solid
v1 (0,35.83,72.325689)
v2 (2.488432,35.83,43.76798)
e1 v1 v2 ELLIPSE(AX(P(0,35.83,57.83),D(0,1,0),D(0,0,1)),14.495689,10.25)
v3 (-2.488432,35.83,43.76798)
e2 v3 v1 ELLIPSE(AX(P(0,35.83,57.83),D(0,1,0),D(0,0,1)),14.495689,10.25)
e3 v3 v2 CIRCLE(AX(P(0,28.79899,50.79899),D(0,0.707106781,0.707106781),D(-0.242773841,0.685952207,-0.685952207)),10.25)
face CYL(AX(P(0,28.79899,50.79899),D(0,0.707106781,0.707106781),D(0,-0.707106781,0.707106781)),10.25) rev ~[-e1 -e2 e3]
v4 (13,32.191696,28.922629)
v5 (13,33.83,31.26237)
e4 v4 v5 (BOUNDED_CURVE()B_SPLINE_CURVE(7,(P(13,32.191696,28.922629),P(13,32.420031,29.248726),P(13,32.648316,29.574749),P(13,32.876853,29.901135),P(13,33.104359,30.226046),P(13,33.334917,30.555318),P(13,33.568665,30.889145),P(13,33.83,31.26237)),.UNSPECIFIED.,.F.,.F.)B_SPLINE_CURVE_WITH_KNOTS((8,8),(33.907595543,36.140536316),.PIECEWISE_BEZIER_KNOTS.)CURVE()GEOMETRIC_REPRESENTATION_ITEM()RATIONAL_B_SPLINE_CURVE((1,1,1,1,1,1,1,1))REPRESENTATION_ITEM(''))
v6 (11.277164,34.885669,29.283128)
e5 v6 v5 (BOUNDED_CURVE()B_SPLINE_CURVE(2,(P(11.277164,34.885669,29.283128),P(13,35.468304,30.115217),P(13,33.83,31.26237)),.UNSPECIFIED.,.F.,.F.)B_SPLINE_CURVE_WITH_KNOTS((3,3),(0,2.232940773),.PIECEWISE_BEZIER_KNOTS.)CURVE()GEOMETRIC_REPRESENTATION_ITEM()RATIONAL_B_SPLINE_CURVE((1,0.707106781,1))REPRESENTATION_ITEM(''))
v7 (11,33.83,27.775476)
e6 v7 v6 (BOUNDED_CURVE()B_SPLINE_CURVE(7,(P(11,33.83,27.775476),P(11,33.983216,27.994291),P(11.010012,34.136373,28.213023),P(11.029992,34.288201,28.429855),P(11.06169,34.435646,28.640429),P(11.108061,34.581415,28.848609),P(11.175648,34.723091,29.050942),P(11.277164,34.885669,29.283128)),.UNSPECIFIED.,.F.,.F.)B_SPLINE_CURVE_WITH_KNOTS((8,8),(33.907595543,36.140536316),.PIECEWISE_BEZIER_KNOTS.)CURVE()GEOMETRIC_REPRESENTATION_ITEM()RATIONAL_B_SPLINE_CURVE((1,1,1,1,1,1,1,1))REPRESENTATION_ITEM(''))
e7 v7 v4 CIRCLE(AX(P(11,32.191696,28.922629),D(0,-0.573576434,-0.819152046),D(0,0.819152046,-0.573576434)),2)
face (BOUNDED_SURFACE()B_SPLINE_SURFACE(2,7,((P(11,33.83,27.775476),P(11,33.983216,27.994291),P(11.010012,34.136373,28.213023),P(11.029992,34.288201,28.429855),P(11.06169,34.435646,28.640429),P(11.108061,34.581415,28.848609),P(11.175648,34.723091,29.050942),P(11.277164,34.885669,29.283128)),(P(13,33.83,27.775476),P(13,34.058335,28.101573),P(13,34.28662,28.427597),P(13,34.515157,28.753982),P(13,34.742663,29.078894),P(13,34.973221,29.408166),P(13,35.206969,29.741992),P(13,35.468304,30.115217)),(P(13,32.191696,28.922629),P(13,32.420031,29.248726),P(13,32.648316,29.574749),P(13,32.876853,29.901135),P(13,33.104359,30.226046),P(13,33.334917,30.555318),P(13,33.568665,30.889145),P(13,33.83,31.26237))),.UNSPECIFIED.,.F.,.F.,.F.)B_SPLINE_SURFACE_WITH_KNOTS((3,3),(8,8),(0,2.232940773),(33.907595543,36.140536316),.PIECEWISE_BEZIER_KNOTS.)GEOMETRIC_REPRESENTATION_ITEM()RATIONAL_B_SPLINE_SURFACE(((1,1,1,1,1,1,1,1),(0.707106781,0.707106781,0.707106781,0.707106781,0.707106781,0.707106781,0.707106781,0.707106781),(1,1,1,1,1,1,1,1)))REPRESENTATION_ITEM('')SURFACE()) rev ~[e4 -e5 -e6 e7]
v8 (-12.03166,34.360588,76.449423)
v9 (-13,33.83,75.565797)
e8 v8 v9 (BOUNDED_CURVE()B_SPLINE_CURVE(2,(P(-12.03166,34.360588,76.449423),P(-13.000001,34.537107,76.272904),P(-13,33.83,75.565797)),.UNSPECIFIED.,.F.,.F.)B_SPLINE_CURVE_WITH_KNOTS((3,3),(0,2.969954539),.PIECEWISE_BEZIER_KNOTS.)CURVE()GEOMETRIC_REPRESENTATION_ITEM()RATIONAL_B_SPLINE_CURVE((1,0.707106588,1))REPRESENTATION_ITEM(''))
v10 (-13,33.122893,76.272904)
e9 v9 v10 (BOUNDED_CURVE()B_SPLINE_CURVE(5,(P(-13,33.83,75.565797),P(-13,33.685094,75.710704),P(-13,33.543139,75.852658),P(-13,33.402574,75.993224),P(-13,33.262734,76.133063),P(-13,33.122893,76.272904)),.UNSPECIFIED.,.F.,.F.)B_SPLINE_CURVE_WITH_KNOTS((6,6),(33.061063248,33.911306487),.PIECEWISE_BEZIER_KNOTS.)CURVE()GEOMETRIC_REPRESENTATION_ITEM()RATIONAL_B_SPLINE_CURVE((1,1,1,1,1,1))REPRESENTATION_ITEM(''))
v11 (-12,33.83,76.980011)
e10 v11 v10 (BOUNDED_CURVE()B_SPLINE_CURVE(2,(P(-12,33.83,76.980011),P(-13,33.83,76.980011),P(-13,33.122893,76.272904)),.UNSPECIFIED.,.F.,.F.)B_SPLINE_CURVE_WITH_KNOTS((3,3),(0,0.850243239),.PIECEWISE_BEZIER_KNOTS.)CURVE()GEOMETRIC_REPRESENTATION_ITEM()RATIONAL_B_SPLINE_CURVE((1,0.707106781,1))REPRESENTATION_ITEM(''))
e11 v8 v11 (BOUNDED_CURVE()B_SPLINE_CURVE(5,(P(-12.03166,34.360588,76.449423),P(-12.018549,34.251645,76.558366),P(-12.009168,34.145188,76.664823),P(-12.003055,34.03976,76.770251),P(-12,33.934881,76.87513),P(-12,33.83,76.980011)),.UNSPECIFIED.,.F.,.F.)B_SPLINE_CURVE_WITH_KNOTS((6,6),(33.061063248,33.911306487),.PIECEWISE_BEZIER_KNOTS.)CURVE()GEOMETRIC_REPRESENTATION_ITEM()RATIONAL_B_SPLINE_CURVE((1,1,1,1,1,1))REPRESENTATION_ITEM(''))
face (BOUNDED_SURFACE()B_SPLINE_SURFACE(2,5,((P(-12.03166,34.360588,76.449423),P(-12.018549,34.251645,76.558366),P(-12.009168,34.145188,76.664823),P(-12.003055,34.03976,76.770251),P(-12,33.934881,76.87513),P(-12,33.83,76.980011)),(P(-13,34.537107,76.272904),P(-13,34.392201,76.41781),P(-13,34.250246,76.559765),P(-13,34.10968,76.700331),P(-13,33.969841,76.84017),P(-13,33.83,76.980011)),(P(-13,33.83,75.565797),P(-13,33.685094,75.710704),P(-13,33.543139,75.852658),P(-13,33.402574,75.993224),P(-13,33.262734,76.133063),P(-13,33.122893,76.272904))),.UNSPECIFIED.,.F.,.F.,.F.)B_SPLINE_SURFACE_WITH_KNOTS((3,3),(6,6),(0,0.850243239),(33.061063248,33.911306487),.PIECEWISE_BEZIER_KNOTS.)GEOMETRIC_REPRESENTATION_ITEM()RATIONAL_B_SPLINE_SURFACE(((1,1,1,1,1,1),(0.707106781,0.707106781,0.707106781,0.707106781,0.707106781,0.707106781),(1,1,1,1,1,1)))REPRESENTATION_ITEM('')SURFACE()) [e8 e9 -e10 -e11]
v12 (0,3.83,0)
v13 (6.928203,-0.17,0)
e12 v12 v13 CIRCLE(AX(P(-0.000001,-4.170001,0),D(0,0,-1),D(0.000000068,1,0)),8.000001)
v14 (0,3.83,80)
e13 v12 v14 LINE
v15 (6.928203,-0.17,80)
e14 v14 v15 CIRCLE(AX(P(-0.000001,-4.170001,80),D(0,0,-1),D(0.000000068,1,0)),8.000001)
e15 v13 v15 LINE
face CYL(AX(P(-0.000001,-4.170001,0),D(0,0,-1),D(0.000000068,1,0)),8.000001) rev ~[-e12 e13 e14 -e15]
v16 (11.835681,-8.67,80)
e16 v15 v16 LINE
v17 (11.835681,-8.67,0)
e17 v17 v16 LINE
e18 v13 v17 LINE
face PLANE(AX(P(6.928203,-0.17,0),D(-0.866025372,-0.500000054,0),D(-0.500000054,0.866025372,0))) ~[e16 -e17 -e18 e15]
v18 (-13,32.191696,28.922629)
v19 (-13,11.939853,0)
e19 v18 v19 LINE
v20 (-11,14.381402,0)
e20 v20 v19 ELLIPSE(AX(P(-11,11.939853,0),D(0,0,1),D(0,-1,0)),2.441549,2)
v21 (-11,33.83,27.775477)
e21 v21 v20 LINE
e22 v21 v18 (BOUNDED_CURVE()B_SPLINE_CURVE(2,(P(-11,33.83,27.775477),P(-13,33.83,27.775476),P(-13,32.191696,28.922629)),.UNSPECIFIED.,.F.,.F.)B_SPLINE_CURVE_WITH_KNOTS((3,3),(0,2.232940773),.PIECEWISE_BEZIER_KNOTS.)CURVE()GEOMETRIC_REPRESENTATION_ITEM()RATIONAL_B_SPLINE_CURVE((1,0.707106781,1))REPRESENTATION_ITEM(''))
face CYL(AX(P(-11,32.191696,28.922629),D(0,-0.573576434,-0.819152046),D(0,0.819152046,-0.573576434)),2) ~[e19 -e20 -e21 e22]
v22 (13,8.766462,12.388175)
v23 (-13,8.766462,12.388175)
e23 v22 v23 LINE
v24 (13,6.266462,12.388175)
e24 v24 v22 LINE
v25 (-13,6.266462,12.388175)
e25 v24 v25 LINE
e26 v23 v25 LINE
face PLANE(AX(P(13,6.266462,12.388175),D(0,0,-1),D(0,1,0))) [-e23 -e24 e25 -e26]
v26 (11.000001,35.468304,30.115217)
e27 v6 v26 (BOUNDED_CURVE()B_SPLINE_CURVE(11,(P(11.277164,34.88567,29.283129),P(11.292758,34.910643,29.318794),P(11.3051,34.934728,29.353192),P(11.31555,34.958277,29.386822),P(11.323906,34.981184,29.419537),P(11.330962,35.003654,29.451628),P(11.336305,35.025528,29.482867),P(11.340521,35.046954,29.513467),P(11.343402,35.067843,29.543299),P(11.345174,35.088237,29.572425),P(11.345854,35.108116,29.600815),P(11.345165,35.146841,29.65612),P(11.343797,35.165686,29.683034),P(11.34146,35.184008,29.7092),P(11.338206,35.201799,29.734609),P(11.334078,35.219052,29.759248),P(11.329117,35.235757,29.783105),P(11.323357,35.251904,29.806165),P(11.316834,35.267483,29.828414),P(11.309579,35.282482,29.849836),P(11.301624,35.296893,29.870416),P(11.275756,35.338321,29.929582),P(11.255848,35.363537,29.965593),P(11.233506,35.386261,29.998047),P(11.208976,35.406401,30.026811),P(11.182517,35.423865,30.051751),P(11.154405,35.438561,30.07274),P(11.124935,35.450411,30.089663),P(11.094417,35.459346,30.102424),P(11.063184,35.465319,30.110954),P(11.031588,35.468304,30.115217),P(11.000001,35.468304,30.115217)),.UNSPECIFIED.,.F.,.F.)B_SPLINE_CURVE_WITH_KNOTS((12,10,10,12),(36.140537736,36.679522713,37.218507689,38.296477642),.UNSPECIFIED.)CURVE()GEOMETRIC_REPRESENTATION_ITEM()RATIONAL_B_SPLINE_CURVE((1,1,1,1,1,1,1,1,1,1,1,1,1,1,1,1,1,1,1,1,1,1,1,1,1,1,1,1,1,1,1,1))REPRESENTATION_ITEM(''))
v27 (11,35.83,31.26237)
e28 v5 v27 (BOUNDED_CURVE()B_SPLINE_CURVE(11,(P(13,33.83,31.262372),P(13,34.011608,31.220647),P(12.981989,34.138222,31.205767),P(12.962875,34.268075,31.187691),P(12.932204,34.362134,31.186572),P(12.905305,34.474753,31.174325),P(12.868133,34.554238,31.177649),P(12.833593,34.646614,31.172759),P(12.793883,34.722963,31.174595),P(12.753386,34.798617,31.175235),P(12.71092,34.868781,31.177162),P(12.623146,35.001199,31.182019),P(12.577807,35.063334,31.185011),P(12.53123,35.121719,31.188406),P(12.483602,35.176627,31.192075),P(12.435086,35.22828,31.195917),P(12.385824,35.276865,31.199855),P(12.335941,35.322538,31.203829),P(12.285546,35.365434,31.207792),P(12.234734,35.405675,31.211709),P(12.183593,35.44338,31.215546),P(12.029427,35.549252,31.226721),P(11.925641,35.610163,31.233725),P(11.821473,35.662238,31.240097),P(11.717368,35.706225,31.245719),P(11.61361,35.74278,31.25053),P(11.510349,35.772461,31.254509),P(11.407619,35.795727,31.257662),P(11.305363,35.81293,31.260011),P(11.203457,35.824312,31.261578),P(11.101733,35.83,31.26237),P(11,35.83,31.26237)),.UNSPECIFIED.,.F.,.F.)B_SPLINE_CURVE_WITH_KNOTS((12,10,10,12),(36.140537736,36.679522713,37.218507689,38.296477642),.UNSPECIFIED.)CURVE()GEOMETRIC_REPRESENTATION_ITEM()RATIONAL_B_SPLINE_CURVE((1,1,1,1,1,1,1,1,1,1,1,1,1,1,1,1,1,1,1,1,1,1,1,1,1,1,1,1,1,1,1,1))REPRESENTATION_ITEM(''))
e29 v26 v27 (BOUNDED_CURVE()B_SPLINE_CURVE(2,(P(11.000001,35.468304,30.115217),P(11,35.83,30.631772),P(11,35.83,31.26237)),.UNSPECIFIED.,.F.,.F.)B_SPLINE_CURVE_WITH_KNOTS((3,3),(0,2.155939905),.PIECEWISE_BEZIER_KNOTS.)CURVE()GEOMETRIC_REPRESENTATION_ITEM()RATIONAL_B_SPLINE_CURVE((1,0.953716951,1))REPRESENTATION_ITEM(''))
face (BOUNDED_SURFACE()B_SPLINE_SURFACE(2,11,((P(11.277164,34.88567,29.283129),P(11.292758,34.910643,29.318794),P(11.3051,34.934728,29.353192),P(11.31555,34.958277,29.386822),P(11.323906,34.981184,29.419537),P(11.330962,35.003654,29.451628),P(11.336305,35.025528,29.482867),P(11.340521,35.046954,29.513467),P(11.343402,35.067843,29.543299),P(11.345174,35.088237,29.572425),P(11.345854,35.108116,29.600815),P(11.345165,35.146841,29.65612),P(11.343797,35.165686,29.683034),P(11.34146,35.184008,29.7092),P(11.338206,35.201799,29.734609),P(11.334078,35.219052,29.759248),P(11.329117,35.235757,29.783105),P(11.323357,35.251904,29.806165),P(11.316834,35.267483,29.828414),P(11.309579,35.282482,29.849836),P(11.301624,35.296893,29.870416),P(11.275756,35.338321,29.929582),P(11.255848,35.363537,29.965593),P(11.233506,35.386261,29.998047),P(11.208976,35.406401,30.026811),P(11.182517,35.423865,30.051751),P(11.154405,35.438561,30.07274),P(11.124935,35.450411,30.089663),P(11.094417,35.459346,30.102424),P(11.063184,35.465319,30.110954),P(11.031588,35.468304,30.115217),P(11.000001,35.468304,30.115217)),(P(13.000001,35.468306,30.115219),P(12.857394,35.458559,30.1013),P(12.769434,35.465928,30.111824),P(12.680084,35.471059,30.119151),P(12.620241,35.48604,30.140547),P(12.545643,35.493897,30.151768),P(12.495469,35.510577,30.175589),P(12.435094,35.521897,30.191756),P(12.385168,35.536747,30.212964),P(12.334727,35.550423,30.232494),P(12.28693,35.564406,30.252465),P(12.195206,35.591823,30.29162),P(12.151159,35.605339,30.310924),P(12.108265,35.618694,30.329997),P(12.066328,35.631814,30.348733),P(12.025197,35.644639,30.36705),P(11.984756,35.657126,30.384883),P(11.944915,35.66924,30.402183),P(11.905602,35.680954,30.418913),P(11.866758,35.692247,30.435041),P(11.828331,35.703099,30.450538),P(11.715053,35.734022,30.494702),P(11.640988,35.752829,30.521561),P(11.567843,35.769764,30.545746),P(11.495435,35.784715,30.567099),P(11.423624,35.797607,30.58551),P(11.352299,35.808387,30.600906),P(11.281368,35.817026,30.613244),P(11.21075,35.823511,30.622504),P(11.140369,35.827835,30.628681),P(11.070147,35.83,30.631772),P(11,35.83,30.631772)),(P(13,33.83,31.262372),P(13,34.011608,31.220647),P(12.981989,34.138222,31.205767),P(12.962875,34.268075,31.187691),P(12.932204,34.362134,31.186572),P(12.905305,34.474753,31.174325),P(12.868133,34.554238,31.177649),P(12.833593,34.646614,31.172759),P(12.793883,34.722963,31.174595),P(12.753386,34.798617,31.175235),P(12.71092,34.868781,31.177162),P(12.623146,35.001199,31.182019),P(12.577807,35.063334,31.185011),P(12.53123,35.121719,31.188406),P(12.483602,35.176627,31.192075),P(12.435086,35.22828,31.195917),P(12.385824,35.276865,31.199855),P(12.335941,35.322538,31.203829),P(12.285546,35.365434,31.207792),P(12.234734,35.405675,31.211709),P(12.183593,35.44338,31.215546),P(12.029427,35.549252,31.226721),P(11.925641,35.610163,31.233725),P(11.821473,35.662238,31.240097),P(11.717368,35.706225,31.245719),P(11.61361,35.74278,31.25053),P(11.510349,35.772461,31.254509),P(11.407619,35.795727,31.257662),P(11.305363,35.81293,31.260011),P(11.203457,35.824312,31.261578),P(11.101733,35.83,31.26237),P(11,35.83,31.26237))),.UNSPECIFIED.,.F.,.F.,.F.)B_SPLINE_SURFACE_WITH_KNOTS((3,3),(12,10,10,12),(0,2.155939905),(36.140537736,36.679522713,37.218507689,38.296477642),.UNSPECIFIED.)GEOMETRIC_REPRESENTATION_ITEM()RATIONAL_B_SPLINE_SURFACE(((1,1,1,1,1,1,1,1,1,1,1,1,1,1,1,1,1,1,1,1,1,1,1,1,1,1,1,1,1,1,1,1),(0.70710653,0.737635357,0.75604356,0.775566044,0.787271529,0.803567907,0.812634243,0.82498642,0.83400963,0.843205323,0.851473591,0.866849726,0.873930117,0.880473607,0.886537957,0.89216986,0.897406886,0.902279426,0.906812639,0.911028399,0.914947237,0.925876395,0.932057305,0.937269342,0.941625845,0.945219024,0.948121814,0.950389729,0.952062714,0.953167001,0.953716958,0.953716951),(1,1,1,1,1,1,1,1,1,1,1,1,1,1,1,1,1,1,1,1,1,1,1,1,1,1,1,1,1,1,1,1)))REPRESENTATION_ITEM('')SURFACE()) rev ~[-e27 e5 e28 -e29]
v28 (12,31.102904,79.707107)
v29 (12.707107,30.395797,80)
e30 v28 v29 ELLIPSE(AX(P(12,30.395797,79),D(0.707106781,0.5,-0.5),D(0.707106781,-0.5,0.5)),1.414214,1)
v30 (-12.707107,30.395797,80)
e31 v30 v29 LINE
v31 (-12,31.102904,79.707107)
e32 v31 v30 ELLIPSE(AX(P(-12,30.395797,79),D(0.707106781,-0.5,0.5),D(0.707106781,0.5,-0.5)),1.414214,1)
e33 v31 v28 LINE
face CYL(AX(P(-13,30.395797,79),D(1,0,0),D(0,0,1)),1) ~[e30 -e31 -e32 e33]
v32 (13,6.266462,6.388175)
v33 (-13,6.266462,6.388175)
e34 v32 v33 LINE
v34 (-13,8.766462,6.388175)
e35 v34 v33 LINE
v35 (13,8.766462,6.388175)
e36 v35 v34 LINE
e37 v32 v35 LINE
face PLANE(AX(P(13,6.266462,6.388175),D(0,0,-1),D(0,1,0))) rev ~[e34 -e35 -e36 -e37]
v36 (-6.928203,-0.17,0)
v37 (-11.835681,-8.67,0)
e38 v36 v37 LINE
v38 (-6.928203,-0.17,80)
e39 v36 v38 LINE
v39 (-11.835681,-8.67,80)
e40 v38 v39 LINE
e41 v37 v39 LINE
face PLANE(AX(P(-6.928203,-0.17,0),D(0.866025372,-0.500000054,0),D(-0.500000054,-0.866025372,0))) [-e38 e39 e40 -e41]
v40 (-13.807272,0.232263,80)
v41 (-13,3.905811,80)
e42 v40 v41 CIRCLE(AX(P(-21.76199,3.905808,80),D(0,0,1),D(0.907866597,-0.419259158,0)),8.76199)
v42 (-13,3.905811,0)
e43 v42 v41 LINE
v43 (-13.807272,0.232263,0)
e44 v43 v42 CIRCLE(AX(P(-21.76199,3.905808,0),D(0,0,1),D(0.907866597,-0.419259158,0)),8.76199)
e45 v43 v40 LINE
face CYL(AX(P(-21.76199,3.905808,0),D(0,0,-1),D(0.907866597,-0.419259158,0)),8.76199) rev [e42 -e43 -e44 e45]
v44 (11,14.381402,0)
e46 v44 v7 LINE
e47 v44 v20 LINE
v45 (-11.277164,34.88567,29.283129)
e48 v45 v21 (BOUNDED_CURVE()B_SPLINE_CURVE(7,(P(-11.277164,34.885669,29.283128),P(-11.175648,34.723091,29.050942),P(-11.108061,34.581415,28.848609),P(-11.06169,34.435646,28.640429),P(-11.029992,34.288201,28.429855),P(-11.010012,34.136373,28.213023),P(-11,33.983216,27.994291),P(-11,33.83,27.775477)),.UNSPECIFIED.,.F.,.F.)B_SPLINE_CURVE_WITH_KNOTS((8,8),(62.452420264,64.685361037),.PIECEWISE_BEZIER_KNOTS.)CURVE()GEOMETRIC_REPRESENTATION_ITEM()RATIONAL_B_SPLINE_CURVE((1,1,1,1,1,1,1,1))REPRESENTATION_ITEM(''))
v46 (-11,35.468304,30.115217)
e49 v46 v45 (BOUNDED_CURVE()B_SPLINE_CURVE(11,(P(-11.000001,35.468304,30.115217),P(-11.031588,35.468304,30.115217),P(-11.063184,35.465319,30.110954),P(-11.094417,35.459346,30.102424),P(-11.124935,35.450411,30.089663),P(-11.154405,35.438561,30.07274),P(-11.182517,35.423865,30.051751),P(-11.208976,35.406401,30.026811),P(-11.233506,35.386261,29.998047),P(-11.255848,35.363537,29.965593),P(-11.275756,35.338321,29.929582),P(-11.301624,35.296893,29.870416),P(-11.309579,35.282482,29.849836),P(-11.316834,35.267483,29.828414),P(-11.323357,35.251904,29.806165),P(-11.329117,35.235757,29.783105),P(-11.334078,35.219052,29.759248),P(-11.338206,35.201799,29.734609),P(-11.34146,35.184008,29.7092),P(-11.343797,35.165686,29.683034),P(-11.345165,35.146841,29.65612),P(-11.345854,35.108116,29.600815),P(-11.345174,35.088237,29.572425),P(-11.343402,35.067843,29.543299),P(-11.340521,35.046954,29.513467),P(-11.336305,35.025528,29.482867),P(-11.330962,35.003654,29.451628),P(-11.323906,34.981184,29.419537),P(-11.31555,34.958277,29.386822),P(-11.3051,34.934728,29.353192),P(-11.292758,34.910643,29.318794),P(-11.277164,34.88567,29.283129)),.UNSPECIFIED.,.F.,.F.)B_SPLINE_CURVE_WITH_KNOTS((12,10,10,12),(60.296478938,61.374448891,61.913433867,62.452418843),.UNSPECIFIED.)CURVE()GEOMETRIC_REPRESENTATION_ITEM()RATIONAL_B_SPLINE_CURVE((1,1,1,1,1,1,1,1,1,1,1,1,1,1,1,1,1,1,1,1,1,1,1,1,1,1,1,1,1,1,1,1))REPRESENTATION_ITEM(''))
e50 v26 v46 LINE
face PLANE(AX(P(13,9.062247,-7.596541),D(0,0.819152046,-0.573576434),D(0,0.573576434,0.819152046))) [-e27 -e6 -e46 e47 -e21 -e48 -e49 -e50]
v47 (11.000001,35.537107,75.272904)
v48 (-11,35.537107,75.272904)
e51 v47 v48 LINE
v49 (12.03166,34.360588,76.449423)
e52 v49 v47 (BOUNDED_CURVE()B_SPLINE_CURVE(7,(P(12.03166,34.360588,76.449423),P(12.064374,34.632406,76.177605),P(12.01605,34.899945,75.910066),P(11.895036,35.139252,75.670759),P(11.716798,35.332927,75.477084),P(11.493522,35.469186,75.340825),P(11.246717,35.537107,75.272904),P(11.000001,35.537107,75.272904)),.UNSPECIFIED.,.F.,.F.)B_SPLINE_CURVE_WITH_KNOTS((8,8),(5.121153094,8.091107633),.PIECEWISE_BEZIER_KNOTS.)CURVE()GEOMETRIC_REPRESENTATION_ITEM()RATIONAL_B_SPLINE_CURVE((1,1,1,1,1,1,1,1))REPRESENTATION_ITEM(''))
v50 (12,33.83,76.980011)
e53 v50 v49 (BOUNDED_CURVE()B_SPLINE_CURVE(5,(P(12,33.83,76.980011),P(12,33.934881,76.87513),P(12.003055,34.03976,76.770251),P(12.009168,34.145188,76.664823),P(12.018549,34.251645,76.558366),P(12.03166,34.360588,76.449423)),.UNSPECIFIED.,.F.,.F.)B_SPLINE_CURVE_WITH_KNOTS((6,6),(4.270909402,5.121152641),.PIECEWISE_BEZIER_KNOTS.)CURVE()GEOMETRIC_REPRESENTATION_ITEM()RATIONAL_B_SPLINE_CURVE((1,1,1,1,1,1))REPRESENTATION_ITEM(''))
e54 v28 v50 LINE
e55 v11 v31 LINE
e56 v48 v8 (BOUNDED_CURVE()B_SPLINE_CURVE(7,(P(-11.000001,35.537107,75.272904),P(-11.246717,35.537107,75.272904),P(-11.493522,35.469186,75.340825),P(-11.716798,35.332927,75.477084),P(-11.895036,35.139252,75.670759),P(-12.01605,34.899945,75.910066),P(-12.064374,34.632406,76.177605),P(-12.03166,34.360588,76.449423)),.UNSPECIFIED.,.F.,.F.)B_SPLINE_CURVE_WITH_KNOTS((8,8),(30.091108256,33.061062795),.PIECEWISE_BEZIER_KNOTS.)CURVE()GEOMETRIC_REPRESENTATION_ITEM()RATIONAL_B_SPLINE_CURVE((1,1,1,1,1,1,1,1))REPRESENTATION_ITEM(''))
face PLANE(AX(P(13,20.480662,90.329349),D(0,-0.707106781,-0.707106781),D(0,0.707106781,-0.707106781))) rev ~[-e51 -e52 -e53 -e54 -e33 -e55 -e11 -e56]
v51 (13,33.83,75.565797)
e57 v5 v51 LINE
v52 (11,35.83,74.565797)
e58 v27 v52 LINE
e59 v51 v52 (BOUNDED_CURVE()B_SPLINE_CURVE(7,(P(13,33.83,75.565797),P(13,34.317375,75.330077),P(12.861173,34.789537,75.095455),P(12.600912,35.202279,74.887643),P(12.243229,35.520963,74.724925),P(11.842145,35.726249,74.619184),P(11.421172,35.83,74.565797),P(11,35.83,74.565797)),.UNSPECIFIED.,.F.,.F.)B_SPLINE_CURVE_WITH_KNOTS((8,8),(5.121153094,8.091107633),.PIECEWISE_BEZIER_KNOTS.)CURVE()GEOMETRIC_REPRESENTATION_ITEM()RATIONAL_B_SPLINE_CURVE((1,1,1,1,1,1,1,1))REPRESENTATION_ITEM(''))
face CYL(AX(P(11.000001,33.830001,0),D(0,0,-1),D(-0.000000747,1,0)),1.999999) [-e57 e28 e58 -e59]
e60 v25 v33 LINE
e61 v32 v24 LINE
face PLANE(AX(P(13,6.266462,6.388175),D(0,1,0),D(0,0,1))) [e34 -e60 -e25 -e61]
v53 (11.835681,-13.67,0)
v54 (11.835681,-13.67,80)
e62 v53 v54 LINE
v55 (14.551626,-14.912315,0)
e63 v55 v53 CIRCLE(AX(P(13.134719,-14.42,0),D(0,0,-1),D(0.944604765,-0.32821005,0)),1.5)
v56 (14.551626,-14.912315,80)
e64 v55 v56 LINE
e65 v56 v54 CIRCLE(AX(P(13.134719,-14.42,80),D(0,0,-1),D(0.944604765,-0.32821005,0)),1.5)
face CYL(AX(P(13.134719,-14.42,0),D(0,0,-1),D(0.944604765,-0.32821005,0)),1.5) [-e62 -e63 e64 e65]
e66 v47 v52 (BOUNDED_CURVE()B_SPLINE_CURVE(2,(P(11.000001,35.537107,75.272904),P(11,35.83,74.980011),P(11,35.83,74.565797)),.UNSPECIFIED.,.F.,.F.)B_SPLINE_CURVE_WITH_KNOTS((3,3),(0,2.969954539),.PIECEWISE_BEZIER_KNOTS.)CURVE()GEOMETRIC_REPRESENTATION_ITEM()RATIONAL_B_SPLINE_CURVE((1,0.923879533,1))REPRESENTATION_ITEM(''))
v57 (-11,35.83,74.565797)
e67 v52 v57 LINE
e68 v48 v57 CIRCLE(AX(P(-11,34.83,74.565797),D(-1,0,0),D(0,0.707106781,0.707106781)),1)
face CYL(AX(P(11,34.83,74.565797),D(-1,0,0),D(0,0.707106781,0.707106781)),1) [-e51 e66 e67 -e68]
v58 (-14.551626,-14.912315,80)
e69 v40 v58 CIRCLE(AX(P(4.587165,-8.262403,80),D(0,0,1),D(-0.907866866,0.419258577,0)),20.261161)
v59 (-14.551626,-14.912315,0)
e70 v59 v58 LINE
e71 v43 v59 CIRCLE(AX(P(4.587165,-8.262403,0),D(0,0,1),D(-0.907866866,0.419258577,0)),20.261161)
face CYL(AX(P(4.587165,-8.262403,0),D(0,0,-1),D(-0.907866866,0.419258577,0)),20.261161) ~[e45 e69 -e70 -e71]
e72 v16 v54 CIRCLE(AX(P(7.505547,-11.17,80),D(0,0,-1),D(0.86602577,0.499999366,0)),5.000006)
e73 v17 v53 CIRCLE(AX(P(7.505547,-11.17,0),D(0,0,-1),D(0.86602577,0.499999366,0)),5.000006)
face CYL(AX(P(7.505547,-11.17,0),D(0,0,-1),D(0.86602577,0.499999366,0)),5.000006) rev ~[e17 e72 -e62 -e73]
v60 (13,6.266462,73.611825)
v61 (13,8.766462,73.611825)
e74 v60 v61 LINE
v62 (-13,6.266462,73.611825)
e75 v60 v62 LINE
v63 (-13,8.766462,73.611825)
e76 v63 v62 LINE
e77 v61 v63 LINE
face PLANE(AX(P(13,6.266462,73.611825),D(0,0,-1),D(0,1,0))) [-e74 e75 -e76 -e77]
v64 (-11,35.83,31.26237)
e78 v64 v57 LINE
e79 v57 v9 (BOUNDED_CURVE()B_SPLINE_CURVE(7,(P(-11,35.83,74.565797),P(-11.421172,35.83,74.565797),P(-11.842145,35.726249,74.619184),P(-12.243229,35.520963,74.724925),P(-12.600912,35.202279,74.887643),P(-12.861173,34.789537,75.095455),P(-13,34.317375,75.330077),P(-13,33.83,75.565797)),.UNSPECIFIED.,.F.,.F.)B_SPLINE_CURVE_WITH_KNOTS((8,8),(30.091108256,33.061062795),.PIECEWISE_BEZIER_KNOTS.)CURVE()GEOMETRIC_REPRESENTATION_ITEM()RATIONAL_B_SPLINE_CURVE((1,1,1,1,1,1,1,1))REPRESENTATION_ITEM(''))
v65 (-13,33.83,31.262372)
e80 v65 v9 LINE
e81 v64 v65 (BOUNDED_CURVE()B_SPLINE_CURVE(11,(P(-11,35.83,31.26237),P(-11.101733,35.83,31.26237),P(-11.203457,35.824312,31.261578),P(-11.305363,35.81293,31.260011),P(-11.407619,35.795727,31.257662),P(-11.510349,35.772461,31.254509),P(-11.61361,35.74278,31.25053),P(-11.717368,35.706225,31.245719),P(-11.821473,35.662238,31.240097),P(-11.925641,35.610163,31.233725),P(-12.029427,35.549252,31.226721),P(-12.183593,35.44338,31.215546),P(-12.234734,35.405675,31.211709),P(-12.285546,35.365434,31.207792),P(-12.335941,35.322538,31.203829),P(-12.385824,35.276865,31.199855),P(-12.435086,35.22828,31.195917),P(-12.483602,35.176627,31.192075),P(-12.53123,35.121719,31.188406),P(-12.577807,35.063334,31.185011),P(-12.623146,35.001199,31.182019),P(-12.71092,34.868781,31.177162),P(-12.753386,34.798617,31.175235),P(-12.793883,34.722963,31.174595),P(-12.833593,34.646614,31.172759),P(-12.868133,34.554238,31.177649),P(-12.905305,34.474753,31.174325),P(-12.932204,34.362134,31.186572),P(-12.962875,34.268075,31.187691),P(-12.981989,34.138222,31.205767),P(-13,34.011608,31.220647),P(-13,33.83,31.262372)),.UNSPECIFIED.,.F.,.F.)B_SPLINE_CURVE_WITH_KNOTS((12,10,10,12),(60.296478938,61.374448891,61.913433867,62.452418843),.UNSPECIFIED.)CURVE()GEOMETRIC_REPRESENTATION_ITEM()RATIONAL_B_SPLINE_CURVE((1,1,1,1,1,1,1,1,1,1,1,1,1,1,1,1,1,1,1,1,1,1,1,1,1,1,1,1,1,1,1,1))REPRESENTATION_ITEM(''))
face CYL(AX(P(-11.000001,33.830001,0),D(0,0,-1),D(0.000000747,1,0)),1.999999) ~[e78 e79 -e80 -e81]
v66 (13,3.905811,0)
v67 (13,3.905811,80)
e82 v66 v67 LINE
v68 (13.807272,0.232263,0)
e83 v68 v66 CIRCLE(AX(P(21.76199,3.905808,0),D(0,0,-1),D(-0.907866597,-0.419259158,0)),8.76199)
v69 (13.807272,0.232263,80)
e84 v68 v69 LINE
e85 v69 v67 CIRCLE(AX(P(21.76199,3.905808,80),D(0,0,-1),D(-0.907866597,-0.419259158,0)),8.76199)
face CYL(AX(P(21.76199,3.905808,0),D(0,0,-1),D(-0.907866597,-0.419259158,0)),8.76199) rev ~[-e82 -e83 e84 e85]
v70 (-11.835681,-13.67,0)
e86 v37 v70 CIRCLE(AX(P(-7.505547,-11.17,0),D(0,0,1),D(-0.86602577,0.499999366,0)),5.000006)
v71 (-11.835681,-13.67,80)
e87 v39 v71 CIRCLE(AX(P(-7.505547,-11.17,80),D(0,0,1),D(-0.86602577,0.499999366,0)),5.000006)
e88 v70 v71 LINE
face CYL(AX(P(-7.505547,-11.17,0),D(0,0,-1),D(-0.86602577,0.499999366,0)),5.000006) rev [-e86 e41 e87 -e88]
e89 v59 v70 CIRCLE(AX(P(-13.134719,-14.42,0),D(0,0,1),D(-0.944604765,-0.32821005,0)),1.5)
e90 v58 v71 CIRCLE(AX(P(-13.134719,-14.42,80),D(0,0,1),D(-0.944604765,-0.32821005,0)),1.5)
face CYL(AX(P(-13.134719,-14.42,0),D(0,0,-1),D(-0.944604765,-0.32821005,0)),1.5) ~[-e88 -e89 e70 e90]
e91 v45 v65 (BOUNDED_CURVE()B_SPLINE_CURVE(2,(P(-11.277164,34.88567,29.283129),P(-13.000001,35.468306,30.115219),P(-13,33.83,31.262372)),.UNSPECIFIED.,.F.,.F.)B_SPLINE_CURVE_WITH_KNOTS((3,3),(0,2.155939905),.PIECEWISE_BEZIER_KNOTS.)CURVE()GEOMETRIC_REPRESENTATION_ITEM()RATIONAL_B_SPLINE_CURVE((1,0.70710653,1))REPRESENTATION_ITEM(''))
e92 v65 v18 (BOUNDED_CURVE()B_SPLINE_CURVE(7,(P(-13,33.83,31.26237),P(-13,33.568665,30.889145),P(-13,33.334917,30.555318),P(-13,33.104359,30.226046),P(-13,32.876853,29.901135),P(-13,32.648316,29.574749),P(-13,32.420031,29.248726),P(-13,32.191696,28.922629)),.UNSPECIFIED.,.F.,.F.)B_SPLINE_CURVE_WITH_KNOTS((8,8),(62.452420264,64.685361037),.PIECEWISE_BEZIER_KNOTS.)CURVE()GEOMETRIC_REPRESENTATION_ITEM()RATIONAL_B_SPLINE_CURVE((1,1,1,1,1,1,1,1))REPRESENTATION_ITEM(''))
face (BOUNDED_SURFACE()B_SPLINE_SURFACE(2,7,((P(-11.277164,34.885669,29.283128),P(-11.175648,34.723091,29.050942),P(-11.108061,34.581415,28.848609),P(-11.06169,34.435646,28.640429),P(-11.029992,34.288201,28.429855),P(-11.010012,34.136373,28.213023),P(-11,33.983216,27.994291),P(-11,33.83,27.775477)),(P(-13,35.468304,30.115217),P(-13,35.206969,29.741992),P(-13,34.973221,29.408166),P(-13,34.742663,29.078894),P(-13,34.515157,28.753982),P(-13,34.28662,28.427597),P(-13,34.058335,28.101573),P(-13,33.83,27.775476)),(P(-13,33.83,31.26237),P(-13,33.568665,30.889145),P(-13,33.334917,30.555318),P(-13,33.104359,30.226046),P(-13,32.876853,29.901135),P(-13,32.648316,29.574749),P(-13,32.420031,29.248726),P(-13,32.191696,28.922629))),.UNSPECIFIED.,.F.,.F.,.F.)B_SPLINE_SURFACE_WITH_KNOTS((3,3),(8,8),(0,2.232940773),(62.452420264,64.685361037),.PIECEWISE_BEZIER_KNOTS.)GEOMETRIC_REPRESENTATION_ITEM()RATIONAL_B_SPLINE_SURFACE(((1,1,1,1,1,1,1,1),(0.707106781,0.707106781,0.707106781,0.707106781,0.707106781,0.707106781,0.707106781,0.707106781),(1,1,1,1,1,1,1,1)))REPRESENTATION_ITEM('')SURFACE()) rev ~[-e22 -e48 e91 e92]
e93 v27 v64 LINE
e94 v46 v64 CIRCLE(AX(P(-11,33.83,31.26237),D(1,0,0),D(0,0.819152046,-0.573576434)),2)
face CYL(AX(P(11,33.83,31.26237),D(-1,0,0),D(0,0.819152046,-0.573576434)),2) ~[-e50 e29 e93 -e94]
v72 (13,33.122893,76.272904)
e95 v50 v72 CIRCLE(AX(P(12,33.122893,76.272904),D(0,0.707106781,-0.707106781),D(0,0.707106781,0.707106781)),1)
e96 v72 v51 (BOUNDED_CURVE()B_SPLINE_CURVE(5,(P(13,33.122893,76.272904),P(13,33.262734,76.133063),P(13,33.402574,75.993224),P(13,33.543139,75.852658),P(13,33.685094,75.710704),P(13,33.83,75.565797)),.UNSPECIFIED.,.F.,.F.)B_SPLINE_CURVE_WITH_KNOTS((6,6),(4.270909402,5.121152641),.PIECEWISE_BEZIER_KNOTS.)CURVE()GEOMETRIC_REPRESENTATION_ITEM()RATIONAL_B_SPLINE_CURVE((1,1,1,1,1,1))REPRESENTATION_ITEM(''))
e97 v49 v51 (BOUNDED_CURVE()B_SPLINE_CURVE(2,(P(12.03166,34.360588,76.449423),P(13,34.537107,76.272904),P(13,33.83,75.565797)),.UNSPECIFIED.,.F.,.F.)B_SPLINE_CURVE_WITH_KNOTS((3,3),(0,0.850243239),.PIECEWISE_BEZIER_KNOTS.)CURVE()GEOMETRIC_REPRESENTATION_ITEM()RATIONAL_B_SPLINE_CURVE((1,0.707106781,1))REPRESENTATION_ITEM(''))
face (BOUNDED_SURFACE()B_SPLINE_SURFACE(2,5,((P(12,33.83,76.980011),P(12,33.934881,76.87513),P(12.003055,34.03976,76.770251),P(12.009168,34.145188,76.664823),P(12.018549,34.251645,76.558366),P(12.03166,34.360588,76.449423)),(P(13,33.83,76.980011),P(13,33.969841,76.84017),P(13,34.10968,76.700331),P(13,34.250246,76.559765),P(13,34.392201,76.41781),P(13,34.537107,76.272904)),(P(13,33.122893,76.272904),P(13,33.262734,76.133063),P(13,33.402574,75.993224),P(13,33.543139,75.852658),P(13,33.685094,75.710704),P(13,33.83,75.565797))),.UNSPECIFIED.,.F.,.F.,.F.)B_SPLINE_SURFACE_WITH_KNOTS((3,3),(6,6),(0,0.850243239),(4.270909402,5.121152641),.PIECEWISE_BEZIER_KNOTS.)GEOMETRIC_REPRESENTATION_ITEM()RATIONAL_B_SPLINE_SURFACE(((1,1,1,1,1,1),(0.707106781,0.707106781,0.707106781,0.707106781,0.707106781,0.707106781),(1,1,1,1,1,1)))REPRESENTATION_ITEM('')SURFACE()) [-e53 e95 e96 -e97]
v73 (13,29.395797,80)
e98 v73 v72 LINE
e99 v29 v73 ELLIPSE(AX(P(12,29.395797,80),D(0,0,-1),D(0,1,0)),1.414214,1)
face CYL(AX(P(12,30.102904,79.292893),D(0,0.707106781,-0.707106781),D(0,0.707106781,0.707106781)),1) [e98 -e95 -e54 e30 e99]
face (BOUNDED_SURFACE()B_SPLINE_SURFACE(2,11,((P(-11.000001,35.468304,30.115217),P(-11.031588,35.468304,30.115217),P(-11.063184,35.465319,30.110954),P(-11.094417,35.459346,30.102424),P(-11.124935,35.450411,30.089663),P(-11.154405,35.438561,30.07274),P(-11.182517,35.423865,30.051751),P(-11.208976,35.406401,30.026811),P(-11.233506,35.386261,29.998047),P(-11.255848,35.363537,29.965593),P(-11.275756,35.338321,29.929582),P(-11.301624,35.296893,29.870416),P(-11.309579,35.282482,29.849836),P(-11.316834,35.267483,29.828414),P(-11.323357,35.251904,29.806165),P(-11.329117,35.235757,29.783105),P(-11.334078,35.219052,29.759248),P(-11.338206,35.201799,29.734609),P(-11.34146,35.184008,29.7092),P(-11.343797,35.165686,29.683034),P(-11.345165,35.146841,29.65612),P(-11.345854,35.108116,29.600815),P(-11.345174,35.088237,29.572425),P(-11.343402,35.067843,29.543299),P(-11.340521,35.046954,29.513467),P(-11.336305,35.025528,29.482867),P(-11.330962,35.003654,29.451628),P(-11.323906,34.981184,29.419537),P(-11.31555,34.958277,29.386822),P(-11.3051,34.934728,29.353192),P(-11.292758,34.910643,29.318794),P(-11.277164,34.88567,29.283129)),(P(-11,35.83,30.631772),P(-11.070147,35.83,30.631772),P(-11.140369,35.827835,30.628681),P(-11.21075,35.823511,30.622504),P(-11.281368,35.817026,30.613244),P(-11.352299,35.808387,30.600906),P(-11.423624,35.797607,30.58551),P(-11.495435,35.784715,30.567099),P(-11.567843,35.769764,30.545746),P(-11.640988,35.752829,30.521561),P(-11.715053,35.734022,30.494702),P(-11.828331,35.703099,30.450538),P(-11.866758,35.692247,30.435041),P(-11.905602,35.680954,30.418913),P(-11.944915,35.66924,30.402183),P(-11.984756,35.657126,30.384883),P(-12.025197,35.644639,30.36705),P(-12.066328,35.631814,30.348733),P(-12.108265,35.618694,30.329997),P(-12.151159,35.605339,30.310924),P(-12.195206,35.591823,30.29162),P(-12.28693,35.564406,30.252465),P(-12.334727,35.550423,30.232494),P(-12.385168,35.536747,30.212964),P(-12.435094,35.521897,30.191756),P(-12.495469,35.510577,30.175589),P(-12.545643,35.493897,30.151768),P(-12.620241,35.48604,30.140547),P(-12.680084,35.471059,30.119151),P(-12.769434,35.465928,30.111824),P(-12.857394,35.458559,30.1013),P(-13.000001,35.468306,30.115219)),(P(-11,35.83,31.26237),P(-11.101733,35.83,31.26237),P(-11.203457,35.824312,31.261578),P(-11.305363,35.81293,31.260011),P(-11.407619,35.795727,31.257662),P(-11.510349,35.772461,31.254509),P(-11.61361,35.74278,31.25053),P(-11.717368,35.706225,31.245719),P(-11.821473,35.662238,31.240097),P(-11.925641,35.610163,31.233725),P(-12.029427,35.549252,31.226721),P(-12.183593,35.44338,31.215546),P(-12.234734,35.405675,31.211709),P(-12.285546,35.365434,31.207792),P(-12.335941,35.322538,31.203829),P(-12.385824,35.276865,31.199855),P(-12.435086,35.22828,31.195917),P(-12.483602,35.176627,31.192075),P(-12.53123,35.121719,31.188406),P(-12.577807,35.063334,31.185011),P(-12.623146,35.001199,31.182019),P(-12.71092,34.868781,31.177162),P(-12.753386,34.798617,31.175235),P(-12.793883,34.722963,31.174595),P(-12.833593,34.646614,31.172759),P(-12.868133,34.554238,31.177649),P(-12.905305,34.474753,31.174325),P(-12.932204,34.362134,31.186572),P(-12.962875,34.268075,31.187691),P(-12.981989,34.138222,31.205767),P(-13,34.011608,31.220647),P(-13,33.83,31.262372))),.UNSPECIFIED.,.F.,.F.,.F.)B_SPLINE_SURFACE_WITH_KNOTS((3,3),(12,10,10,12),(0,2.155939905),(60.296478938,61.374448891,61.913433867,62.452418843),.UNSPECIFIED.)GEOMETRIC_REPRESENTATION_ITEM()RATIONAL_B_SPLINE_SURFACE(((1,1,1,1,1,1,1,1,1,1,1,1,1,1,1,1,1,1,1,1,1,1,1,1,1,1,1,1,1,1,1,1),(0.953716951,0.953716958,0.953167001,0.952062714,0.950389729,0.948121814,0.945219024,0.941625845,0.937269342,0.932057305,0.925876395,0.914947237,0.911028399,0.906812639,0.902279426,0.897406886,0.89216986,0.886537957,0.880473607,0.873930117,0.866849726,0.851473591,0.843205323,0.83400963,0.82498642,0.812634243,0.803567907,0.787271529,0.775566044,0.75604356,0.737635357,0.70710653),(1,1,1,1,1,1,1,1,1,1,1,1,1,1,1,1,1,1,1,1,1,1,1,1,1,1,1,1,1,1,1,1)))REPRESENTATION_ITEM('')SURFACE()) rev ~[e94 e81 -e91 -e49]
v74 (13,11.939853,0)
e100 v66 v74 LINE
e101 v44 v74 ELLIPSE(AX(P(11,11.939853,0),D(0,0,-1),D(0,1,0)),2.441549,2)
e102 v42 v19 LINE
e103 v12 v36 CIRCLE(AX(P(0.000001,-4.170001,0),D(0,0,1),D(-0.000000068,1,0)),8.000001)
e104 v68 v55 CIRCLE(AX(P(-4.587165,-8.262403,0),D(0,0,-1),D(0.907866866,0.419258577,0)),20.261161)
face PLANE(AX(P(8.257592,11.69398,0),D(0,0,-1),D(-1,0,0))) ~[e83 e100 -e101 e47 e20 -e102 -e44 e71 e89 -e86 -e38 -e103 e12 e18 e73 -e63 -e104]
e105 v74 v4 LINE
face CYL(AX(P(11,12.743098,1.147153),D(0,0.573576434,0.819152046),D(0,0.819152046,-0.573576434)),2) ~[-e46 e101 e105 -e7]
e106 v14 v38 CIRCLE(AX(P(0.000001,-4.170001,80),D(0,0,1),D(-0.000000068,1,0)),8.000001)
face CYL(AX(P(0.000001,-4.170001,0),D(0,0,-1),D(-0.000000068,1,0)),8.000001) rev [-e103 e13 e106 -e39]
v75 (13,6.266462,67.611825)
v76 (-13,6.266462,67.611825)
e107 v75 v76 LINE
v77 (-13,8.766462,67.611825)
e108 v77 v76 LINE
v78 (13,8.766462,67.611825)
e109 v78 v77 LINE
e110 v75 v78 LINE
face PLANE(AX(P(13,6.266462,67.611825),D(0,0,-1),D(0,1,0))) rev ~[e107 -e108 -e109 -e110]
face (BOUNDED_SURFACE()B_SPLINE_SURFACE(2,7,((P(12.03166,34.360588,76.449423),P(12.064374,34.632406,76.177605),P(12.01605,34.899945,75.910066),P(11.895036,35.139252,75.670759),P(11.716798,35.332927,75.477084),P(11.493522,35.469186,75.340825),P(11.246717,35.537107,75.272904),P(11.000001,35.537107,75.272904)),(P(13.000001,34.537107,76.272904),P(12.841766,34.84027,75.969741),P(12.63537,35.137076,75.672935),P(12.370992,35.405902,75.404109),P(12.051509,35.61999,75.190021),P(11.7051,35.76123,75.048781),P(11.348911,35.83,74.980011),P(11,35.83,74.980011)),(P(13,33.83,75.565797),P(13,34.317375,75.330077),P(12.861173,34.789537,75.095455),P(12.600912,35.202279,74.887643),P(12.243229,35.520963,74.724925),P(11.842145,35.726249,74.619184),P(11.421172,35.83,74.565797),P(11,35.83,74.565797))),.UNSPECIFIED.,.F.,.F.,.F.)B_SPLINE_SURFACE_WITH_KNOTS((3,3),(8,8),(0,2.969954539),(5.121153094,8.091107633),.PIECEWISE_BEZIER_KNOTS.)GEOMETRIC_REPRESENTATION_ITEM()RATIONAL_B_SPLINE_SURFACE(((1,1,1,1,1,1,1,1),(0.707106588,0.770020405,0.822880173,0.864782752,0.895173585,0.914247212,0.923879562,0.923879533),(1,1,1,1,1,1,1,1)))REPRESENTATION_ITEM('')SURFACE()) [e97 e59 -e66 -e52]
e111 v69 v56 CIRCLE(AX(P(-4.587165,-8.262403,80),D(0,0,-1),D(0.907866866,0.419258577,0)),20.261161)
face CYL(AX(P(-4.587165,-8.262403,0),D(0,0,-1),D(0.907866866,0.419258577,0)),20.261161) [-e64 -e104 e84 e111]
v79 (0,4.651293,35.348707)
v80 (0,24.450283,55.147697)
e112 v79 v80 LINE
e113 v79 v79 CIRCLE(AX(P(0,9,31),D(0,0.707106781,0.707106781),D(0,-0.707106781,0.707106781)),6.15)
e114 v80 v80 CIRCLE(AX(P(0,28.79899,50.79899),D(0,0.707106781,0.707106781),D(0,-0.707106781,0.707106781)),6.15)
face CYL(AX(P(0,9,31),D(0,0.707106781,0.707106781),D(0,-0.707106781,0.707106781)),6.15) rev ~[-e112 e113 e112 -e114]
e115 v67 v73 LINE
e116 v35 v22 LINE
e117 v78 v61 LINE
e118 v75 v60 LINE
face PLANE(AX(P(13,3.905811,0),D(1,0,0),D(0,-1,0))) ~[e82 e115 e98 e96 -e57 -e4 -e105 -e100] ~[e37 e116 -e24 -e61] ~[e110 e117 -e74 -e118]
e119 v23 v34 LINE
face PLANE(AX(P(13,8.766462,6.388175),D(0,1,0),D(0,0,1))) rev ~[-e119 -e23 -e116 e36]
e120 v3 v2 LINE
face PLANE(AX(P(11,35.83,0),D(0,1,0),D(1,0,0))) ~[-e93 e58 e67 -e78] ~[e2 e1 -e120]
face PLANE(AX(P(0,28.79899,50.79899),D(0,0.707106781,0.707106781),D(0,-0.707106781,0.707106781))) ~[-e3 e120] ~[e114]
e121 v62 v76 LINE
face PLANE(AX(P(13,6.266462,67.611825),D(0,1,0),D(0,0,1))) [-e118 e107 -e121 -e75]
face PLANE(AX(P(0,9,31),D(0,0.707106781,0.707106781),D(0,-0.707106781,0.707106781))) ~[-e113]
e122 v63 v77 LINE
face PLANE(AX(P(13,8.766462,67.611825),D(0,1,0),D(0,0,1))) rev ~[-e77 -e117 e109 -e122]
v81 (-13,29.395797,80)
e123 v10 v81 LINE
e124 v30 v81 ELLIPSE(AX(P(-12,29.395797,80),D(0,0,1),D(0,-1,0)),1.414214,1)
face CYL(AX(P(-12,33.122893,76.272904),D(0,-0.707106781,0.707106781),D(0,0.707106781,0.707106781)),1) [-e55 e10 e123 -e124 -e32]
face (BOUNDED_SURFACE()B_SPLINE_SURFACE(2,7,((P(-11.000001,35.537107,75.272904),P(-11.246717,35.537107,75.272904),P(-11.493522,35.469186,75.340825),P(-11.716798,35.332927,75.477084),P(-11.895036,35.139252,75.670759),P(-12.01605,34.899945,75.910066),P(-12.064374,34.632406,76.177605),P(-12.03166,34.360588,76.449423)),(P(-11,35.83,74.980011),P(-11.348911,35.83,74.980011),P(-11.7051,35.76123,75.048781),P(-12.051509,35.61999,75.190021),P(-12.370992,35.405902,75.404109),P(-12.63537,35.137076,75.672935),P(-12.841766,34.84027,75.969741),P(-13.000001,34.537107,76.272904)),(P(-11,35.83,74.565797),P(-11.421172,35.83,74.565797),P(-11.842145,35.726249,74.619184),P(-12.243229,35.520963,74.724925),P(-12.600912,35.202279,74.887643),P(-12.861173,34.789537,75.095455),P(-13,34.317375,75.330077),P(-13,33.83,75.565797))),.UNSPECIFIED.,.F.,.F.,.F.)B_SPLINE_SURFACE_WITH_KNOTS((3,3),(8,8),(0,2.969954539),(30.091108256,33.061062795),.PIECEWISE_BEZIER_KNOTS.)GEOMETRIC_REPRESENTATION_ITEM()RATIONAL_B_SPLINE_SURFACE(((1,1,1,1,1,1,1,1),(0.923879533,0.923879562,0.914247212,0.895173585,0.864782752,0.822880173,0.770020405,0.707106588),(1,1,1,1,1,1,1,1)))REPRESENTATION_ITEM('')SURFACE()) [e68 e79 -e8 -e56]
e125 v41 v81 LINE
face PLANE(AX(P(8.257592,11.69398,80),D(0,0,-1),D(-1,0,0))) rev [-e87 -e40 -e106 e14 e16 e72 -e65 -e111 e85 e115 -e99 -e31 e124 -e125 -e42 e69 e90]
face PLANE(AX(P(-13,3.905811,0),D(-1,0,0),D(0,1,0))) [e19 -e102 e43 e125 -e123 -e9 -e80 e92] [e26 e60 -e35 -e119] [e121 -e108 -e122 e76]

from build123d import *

# Parameters (mm, degrees)
BODY001_PLACEMENT_ANGLE = 45
PAD_DEPTH               = 80
SKETCH001_W             = 2.5
SKETCH001_H             = 6
POCKET_DEPTH            = 28.674996
FILLET_R                = 2
FILLET001_R             = 1


with BuildPart() as body001:
    # Sketch002 → Revolution (revolve)
    with BuildSketch(Plane.YZ):
        Polygon((0, 0), (0, 6.15), (28, 6.15), (28, 10.25), (56.26033, 10.25), (56.26033, 0), align=None)
    revolve(axis=Axis((0, 0, 0), (0, 1, 0)))


with BuildPart() as body001_1:
    # Body001 placement: moved
    add(body001.part.moved(Location((0, 9, 31))).rotate(Axis((0, 9, 31), (1, 0, 0)), BODY001_PLACEMENT_ANGLE))


with BuildPart() as fillet001:
    # Sketch → Pad (new body)
    with BuildSketch(Plane.XY):
        with BuildLine():
            ThreePointArc((0, 3.83), (-4, 2.758203), (-6.928203, -0.17))
            Line((-6.928203, -0.17), (-11.835681, -8.67))
            ThreePointArc((-11.835681, -8.67), (-12.505553, -11.17), (-11.835681, -13.67))
            ThreePointArc((-14.551626, -14.912315), (-12.510772, -15.784071), (-11.835681, -13.67))
            ThreePointArc((-13.807272, 0.232263), (-15.649568, -7.26777), (-14.551626, -14.912315))
            ThreePointArc((-13.807272, 0.232263), (-13.204197, 2.02521), (-13, 3.905811))
            Line((-13, 3.905811), (-13, 33.83))
            ThreePointArc((-11, 35.83), (-12.414214, 35.244214), (-13, 33.83))
            Line((-11, 35.83), (0, 35.83))
            Line((0, 35.83), (0, 3.83))
        make_face()
    pad = extrude(amount=PAD_DEPTH)

    # Mirrored: Pad across Sketch V_Axis
    add(pad.mirror(Plane(origin=(0, 0, 0), x_dir=(0, 0, 1), z_dir=(1, 0, 0))))

    # Sketch001 (on Face20 of Mirrored) → Pocket (cut, through all)
    with BuildSketch(Plane.YZ.offset(13)):
        with Locations((7.516462, 70.611825)):
            Rectangle(SKETCH001_W, SKETCH001_H)
        with Locations((7.516462, 9.388175)):
            Rectangle(SKETCH001_W, SKETCH001_H)
        Polygon((9.062247, -7.596541), (45.172724, 43.974565), (45.172724, -7.596541), align=None)
        Polygon((20.480662, 90.329349), (40.583266, 70.226745), (40.583266, 96.418373), align=None)
    extrude(amount=-POCKET_DEPTH, mode=Mode.SUBTRACT)

    # Cut: cut Body001
    add(body001_1.part, mode=Mode.SUBTRACT)

    # Fillet
    fillet_edges = [fillet001.edges().sort_by_distance(p)[0] for p in [
        (-13, 24.105701, 13.887738),
        (13, 24.105701, 13.887738),
    ]]
    fillet(fillet_edges, radius=FILLET_R)

    # Fillet001
    fillet001_edges = [fillet001.edges().sort_by_distance(p)[0] for p in [
        (-13, 32.320005, 78.490005),
        (-6.5, 30.810011, 80),
        (-12.526592, 35.122098, 75.687913),
        (13, 32.320005, 78.490005),
        (12.526592, 35.122098, 75.687913),
        (5.5, 35.83, 74.980011),
        (-5.5, 35.83, 74.980011),
        (6.5, 30.810011, 80),
    ]]
    fillet(fillet001_edges, radius=FILLET001_R)


solid = fillet001.part
